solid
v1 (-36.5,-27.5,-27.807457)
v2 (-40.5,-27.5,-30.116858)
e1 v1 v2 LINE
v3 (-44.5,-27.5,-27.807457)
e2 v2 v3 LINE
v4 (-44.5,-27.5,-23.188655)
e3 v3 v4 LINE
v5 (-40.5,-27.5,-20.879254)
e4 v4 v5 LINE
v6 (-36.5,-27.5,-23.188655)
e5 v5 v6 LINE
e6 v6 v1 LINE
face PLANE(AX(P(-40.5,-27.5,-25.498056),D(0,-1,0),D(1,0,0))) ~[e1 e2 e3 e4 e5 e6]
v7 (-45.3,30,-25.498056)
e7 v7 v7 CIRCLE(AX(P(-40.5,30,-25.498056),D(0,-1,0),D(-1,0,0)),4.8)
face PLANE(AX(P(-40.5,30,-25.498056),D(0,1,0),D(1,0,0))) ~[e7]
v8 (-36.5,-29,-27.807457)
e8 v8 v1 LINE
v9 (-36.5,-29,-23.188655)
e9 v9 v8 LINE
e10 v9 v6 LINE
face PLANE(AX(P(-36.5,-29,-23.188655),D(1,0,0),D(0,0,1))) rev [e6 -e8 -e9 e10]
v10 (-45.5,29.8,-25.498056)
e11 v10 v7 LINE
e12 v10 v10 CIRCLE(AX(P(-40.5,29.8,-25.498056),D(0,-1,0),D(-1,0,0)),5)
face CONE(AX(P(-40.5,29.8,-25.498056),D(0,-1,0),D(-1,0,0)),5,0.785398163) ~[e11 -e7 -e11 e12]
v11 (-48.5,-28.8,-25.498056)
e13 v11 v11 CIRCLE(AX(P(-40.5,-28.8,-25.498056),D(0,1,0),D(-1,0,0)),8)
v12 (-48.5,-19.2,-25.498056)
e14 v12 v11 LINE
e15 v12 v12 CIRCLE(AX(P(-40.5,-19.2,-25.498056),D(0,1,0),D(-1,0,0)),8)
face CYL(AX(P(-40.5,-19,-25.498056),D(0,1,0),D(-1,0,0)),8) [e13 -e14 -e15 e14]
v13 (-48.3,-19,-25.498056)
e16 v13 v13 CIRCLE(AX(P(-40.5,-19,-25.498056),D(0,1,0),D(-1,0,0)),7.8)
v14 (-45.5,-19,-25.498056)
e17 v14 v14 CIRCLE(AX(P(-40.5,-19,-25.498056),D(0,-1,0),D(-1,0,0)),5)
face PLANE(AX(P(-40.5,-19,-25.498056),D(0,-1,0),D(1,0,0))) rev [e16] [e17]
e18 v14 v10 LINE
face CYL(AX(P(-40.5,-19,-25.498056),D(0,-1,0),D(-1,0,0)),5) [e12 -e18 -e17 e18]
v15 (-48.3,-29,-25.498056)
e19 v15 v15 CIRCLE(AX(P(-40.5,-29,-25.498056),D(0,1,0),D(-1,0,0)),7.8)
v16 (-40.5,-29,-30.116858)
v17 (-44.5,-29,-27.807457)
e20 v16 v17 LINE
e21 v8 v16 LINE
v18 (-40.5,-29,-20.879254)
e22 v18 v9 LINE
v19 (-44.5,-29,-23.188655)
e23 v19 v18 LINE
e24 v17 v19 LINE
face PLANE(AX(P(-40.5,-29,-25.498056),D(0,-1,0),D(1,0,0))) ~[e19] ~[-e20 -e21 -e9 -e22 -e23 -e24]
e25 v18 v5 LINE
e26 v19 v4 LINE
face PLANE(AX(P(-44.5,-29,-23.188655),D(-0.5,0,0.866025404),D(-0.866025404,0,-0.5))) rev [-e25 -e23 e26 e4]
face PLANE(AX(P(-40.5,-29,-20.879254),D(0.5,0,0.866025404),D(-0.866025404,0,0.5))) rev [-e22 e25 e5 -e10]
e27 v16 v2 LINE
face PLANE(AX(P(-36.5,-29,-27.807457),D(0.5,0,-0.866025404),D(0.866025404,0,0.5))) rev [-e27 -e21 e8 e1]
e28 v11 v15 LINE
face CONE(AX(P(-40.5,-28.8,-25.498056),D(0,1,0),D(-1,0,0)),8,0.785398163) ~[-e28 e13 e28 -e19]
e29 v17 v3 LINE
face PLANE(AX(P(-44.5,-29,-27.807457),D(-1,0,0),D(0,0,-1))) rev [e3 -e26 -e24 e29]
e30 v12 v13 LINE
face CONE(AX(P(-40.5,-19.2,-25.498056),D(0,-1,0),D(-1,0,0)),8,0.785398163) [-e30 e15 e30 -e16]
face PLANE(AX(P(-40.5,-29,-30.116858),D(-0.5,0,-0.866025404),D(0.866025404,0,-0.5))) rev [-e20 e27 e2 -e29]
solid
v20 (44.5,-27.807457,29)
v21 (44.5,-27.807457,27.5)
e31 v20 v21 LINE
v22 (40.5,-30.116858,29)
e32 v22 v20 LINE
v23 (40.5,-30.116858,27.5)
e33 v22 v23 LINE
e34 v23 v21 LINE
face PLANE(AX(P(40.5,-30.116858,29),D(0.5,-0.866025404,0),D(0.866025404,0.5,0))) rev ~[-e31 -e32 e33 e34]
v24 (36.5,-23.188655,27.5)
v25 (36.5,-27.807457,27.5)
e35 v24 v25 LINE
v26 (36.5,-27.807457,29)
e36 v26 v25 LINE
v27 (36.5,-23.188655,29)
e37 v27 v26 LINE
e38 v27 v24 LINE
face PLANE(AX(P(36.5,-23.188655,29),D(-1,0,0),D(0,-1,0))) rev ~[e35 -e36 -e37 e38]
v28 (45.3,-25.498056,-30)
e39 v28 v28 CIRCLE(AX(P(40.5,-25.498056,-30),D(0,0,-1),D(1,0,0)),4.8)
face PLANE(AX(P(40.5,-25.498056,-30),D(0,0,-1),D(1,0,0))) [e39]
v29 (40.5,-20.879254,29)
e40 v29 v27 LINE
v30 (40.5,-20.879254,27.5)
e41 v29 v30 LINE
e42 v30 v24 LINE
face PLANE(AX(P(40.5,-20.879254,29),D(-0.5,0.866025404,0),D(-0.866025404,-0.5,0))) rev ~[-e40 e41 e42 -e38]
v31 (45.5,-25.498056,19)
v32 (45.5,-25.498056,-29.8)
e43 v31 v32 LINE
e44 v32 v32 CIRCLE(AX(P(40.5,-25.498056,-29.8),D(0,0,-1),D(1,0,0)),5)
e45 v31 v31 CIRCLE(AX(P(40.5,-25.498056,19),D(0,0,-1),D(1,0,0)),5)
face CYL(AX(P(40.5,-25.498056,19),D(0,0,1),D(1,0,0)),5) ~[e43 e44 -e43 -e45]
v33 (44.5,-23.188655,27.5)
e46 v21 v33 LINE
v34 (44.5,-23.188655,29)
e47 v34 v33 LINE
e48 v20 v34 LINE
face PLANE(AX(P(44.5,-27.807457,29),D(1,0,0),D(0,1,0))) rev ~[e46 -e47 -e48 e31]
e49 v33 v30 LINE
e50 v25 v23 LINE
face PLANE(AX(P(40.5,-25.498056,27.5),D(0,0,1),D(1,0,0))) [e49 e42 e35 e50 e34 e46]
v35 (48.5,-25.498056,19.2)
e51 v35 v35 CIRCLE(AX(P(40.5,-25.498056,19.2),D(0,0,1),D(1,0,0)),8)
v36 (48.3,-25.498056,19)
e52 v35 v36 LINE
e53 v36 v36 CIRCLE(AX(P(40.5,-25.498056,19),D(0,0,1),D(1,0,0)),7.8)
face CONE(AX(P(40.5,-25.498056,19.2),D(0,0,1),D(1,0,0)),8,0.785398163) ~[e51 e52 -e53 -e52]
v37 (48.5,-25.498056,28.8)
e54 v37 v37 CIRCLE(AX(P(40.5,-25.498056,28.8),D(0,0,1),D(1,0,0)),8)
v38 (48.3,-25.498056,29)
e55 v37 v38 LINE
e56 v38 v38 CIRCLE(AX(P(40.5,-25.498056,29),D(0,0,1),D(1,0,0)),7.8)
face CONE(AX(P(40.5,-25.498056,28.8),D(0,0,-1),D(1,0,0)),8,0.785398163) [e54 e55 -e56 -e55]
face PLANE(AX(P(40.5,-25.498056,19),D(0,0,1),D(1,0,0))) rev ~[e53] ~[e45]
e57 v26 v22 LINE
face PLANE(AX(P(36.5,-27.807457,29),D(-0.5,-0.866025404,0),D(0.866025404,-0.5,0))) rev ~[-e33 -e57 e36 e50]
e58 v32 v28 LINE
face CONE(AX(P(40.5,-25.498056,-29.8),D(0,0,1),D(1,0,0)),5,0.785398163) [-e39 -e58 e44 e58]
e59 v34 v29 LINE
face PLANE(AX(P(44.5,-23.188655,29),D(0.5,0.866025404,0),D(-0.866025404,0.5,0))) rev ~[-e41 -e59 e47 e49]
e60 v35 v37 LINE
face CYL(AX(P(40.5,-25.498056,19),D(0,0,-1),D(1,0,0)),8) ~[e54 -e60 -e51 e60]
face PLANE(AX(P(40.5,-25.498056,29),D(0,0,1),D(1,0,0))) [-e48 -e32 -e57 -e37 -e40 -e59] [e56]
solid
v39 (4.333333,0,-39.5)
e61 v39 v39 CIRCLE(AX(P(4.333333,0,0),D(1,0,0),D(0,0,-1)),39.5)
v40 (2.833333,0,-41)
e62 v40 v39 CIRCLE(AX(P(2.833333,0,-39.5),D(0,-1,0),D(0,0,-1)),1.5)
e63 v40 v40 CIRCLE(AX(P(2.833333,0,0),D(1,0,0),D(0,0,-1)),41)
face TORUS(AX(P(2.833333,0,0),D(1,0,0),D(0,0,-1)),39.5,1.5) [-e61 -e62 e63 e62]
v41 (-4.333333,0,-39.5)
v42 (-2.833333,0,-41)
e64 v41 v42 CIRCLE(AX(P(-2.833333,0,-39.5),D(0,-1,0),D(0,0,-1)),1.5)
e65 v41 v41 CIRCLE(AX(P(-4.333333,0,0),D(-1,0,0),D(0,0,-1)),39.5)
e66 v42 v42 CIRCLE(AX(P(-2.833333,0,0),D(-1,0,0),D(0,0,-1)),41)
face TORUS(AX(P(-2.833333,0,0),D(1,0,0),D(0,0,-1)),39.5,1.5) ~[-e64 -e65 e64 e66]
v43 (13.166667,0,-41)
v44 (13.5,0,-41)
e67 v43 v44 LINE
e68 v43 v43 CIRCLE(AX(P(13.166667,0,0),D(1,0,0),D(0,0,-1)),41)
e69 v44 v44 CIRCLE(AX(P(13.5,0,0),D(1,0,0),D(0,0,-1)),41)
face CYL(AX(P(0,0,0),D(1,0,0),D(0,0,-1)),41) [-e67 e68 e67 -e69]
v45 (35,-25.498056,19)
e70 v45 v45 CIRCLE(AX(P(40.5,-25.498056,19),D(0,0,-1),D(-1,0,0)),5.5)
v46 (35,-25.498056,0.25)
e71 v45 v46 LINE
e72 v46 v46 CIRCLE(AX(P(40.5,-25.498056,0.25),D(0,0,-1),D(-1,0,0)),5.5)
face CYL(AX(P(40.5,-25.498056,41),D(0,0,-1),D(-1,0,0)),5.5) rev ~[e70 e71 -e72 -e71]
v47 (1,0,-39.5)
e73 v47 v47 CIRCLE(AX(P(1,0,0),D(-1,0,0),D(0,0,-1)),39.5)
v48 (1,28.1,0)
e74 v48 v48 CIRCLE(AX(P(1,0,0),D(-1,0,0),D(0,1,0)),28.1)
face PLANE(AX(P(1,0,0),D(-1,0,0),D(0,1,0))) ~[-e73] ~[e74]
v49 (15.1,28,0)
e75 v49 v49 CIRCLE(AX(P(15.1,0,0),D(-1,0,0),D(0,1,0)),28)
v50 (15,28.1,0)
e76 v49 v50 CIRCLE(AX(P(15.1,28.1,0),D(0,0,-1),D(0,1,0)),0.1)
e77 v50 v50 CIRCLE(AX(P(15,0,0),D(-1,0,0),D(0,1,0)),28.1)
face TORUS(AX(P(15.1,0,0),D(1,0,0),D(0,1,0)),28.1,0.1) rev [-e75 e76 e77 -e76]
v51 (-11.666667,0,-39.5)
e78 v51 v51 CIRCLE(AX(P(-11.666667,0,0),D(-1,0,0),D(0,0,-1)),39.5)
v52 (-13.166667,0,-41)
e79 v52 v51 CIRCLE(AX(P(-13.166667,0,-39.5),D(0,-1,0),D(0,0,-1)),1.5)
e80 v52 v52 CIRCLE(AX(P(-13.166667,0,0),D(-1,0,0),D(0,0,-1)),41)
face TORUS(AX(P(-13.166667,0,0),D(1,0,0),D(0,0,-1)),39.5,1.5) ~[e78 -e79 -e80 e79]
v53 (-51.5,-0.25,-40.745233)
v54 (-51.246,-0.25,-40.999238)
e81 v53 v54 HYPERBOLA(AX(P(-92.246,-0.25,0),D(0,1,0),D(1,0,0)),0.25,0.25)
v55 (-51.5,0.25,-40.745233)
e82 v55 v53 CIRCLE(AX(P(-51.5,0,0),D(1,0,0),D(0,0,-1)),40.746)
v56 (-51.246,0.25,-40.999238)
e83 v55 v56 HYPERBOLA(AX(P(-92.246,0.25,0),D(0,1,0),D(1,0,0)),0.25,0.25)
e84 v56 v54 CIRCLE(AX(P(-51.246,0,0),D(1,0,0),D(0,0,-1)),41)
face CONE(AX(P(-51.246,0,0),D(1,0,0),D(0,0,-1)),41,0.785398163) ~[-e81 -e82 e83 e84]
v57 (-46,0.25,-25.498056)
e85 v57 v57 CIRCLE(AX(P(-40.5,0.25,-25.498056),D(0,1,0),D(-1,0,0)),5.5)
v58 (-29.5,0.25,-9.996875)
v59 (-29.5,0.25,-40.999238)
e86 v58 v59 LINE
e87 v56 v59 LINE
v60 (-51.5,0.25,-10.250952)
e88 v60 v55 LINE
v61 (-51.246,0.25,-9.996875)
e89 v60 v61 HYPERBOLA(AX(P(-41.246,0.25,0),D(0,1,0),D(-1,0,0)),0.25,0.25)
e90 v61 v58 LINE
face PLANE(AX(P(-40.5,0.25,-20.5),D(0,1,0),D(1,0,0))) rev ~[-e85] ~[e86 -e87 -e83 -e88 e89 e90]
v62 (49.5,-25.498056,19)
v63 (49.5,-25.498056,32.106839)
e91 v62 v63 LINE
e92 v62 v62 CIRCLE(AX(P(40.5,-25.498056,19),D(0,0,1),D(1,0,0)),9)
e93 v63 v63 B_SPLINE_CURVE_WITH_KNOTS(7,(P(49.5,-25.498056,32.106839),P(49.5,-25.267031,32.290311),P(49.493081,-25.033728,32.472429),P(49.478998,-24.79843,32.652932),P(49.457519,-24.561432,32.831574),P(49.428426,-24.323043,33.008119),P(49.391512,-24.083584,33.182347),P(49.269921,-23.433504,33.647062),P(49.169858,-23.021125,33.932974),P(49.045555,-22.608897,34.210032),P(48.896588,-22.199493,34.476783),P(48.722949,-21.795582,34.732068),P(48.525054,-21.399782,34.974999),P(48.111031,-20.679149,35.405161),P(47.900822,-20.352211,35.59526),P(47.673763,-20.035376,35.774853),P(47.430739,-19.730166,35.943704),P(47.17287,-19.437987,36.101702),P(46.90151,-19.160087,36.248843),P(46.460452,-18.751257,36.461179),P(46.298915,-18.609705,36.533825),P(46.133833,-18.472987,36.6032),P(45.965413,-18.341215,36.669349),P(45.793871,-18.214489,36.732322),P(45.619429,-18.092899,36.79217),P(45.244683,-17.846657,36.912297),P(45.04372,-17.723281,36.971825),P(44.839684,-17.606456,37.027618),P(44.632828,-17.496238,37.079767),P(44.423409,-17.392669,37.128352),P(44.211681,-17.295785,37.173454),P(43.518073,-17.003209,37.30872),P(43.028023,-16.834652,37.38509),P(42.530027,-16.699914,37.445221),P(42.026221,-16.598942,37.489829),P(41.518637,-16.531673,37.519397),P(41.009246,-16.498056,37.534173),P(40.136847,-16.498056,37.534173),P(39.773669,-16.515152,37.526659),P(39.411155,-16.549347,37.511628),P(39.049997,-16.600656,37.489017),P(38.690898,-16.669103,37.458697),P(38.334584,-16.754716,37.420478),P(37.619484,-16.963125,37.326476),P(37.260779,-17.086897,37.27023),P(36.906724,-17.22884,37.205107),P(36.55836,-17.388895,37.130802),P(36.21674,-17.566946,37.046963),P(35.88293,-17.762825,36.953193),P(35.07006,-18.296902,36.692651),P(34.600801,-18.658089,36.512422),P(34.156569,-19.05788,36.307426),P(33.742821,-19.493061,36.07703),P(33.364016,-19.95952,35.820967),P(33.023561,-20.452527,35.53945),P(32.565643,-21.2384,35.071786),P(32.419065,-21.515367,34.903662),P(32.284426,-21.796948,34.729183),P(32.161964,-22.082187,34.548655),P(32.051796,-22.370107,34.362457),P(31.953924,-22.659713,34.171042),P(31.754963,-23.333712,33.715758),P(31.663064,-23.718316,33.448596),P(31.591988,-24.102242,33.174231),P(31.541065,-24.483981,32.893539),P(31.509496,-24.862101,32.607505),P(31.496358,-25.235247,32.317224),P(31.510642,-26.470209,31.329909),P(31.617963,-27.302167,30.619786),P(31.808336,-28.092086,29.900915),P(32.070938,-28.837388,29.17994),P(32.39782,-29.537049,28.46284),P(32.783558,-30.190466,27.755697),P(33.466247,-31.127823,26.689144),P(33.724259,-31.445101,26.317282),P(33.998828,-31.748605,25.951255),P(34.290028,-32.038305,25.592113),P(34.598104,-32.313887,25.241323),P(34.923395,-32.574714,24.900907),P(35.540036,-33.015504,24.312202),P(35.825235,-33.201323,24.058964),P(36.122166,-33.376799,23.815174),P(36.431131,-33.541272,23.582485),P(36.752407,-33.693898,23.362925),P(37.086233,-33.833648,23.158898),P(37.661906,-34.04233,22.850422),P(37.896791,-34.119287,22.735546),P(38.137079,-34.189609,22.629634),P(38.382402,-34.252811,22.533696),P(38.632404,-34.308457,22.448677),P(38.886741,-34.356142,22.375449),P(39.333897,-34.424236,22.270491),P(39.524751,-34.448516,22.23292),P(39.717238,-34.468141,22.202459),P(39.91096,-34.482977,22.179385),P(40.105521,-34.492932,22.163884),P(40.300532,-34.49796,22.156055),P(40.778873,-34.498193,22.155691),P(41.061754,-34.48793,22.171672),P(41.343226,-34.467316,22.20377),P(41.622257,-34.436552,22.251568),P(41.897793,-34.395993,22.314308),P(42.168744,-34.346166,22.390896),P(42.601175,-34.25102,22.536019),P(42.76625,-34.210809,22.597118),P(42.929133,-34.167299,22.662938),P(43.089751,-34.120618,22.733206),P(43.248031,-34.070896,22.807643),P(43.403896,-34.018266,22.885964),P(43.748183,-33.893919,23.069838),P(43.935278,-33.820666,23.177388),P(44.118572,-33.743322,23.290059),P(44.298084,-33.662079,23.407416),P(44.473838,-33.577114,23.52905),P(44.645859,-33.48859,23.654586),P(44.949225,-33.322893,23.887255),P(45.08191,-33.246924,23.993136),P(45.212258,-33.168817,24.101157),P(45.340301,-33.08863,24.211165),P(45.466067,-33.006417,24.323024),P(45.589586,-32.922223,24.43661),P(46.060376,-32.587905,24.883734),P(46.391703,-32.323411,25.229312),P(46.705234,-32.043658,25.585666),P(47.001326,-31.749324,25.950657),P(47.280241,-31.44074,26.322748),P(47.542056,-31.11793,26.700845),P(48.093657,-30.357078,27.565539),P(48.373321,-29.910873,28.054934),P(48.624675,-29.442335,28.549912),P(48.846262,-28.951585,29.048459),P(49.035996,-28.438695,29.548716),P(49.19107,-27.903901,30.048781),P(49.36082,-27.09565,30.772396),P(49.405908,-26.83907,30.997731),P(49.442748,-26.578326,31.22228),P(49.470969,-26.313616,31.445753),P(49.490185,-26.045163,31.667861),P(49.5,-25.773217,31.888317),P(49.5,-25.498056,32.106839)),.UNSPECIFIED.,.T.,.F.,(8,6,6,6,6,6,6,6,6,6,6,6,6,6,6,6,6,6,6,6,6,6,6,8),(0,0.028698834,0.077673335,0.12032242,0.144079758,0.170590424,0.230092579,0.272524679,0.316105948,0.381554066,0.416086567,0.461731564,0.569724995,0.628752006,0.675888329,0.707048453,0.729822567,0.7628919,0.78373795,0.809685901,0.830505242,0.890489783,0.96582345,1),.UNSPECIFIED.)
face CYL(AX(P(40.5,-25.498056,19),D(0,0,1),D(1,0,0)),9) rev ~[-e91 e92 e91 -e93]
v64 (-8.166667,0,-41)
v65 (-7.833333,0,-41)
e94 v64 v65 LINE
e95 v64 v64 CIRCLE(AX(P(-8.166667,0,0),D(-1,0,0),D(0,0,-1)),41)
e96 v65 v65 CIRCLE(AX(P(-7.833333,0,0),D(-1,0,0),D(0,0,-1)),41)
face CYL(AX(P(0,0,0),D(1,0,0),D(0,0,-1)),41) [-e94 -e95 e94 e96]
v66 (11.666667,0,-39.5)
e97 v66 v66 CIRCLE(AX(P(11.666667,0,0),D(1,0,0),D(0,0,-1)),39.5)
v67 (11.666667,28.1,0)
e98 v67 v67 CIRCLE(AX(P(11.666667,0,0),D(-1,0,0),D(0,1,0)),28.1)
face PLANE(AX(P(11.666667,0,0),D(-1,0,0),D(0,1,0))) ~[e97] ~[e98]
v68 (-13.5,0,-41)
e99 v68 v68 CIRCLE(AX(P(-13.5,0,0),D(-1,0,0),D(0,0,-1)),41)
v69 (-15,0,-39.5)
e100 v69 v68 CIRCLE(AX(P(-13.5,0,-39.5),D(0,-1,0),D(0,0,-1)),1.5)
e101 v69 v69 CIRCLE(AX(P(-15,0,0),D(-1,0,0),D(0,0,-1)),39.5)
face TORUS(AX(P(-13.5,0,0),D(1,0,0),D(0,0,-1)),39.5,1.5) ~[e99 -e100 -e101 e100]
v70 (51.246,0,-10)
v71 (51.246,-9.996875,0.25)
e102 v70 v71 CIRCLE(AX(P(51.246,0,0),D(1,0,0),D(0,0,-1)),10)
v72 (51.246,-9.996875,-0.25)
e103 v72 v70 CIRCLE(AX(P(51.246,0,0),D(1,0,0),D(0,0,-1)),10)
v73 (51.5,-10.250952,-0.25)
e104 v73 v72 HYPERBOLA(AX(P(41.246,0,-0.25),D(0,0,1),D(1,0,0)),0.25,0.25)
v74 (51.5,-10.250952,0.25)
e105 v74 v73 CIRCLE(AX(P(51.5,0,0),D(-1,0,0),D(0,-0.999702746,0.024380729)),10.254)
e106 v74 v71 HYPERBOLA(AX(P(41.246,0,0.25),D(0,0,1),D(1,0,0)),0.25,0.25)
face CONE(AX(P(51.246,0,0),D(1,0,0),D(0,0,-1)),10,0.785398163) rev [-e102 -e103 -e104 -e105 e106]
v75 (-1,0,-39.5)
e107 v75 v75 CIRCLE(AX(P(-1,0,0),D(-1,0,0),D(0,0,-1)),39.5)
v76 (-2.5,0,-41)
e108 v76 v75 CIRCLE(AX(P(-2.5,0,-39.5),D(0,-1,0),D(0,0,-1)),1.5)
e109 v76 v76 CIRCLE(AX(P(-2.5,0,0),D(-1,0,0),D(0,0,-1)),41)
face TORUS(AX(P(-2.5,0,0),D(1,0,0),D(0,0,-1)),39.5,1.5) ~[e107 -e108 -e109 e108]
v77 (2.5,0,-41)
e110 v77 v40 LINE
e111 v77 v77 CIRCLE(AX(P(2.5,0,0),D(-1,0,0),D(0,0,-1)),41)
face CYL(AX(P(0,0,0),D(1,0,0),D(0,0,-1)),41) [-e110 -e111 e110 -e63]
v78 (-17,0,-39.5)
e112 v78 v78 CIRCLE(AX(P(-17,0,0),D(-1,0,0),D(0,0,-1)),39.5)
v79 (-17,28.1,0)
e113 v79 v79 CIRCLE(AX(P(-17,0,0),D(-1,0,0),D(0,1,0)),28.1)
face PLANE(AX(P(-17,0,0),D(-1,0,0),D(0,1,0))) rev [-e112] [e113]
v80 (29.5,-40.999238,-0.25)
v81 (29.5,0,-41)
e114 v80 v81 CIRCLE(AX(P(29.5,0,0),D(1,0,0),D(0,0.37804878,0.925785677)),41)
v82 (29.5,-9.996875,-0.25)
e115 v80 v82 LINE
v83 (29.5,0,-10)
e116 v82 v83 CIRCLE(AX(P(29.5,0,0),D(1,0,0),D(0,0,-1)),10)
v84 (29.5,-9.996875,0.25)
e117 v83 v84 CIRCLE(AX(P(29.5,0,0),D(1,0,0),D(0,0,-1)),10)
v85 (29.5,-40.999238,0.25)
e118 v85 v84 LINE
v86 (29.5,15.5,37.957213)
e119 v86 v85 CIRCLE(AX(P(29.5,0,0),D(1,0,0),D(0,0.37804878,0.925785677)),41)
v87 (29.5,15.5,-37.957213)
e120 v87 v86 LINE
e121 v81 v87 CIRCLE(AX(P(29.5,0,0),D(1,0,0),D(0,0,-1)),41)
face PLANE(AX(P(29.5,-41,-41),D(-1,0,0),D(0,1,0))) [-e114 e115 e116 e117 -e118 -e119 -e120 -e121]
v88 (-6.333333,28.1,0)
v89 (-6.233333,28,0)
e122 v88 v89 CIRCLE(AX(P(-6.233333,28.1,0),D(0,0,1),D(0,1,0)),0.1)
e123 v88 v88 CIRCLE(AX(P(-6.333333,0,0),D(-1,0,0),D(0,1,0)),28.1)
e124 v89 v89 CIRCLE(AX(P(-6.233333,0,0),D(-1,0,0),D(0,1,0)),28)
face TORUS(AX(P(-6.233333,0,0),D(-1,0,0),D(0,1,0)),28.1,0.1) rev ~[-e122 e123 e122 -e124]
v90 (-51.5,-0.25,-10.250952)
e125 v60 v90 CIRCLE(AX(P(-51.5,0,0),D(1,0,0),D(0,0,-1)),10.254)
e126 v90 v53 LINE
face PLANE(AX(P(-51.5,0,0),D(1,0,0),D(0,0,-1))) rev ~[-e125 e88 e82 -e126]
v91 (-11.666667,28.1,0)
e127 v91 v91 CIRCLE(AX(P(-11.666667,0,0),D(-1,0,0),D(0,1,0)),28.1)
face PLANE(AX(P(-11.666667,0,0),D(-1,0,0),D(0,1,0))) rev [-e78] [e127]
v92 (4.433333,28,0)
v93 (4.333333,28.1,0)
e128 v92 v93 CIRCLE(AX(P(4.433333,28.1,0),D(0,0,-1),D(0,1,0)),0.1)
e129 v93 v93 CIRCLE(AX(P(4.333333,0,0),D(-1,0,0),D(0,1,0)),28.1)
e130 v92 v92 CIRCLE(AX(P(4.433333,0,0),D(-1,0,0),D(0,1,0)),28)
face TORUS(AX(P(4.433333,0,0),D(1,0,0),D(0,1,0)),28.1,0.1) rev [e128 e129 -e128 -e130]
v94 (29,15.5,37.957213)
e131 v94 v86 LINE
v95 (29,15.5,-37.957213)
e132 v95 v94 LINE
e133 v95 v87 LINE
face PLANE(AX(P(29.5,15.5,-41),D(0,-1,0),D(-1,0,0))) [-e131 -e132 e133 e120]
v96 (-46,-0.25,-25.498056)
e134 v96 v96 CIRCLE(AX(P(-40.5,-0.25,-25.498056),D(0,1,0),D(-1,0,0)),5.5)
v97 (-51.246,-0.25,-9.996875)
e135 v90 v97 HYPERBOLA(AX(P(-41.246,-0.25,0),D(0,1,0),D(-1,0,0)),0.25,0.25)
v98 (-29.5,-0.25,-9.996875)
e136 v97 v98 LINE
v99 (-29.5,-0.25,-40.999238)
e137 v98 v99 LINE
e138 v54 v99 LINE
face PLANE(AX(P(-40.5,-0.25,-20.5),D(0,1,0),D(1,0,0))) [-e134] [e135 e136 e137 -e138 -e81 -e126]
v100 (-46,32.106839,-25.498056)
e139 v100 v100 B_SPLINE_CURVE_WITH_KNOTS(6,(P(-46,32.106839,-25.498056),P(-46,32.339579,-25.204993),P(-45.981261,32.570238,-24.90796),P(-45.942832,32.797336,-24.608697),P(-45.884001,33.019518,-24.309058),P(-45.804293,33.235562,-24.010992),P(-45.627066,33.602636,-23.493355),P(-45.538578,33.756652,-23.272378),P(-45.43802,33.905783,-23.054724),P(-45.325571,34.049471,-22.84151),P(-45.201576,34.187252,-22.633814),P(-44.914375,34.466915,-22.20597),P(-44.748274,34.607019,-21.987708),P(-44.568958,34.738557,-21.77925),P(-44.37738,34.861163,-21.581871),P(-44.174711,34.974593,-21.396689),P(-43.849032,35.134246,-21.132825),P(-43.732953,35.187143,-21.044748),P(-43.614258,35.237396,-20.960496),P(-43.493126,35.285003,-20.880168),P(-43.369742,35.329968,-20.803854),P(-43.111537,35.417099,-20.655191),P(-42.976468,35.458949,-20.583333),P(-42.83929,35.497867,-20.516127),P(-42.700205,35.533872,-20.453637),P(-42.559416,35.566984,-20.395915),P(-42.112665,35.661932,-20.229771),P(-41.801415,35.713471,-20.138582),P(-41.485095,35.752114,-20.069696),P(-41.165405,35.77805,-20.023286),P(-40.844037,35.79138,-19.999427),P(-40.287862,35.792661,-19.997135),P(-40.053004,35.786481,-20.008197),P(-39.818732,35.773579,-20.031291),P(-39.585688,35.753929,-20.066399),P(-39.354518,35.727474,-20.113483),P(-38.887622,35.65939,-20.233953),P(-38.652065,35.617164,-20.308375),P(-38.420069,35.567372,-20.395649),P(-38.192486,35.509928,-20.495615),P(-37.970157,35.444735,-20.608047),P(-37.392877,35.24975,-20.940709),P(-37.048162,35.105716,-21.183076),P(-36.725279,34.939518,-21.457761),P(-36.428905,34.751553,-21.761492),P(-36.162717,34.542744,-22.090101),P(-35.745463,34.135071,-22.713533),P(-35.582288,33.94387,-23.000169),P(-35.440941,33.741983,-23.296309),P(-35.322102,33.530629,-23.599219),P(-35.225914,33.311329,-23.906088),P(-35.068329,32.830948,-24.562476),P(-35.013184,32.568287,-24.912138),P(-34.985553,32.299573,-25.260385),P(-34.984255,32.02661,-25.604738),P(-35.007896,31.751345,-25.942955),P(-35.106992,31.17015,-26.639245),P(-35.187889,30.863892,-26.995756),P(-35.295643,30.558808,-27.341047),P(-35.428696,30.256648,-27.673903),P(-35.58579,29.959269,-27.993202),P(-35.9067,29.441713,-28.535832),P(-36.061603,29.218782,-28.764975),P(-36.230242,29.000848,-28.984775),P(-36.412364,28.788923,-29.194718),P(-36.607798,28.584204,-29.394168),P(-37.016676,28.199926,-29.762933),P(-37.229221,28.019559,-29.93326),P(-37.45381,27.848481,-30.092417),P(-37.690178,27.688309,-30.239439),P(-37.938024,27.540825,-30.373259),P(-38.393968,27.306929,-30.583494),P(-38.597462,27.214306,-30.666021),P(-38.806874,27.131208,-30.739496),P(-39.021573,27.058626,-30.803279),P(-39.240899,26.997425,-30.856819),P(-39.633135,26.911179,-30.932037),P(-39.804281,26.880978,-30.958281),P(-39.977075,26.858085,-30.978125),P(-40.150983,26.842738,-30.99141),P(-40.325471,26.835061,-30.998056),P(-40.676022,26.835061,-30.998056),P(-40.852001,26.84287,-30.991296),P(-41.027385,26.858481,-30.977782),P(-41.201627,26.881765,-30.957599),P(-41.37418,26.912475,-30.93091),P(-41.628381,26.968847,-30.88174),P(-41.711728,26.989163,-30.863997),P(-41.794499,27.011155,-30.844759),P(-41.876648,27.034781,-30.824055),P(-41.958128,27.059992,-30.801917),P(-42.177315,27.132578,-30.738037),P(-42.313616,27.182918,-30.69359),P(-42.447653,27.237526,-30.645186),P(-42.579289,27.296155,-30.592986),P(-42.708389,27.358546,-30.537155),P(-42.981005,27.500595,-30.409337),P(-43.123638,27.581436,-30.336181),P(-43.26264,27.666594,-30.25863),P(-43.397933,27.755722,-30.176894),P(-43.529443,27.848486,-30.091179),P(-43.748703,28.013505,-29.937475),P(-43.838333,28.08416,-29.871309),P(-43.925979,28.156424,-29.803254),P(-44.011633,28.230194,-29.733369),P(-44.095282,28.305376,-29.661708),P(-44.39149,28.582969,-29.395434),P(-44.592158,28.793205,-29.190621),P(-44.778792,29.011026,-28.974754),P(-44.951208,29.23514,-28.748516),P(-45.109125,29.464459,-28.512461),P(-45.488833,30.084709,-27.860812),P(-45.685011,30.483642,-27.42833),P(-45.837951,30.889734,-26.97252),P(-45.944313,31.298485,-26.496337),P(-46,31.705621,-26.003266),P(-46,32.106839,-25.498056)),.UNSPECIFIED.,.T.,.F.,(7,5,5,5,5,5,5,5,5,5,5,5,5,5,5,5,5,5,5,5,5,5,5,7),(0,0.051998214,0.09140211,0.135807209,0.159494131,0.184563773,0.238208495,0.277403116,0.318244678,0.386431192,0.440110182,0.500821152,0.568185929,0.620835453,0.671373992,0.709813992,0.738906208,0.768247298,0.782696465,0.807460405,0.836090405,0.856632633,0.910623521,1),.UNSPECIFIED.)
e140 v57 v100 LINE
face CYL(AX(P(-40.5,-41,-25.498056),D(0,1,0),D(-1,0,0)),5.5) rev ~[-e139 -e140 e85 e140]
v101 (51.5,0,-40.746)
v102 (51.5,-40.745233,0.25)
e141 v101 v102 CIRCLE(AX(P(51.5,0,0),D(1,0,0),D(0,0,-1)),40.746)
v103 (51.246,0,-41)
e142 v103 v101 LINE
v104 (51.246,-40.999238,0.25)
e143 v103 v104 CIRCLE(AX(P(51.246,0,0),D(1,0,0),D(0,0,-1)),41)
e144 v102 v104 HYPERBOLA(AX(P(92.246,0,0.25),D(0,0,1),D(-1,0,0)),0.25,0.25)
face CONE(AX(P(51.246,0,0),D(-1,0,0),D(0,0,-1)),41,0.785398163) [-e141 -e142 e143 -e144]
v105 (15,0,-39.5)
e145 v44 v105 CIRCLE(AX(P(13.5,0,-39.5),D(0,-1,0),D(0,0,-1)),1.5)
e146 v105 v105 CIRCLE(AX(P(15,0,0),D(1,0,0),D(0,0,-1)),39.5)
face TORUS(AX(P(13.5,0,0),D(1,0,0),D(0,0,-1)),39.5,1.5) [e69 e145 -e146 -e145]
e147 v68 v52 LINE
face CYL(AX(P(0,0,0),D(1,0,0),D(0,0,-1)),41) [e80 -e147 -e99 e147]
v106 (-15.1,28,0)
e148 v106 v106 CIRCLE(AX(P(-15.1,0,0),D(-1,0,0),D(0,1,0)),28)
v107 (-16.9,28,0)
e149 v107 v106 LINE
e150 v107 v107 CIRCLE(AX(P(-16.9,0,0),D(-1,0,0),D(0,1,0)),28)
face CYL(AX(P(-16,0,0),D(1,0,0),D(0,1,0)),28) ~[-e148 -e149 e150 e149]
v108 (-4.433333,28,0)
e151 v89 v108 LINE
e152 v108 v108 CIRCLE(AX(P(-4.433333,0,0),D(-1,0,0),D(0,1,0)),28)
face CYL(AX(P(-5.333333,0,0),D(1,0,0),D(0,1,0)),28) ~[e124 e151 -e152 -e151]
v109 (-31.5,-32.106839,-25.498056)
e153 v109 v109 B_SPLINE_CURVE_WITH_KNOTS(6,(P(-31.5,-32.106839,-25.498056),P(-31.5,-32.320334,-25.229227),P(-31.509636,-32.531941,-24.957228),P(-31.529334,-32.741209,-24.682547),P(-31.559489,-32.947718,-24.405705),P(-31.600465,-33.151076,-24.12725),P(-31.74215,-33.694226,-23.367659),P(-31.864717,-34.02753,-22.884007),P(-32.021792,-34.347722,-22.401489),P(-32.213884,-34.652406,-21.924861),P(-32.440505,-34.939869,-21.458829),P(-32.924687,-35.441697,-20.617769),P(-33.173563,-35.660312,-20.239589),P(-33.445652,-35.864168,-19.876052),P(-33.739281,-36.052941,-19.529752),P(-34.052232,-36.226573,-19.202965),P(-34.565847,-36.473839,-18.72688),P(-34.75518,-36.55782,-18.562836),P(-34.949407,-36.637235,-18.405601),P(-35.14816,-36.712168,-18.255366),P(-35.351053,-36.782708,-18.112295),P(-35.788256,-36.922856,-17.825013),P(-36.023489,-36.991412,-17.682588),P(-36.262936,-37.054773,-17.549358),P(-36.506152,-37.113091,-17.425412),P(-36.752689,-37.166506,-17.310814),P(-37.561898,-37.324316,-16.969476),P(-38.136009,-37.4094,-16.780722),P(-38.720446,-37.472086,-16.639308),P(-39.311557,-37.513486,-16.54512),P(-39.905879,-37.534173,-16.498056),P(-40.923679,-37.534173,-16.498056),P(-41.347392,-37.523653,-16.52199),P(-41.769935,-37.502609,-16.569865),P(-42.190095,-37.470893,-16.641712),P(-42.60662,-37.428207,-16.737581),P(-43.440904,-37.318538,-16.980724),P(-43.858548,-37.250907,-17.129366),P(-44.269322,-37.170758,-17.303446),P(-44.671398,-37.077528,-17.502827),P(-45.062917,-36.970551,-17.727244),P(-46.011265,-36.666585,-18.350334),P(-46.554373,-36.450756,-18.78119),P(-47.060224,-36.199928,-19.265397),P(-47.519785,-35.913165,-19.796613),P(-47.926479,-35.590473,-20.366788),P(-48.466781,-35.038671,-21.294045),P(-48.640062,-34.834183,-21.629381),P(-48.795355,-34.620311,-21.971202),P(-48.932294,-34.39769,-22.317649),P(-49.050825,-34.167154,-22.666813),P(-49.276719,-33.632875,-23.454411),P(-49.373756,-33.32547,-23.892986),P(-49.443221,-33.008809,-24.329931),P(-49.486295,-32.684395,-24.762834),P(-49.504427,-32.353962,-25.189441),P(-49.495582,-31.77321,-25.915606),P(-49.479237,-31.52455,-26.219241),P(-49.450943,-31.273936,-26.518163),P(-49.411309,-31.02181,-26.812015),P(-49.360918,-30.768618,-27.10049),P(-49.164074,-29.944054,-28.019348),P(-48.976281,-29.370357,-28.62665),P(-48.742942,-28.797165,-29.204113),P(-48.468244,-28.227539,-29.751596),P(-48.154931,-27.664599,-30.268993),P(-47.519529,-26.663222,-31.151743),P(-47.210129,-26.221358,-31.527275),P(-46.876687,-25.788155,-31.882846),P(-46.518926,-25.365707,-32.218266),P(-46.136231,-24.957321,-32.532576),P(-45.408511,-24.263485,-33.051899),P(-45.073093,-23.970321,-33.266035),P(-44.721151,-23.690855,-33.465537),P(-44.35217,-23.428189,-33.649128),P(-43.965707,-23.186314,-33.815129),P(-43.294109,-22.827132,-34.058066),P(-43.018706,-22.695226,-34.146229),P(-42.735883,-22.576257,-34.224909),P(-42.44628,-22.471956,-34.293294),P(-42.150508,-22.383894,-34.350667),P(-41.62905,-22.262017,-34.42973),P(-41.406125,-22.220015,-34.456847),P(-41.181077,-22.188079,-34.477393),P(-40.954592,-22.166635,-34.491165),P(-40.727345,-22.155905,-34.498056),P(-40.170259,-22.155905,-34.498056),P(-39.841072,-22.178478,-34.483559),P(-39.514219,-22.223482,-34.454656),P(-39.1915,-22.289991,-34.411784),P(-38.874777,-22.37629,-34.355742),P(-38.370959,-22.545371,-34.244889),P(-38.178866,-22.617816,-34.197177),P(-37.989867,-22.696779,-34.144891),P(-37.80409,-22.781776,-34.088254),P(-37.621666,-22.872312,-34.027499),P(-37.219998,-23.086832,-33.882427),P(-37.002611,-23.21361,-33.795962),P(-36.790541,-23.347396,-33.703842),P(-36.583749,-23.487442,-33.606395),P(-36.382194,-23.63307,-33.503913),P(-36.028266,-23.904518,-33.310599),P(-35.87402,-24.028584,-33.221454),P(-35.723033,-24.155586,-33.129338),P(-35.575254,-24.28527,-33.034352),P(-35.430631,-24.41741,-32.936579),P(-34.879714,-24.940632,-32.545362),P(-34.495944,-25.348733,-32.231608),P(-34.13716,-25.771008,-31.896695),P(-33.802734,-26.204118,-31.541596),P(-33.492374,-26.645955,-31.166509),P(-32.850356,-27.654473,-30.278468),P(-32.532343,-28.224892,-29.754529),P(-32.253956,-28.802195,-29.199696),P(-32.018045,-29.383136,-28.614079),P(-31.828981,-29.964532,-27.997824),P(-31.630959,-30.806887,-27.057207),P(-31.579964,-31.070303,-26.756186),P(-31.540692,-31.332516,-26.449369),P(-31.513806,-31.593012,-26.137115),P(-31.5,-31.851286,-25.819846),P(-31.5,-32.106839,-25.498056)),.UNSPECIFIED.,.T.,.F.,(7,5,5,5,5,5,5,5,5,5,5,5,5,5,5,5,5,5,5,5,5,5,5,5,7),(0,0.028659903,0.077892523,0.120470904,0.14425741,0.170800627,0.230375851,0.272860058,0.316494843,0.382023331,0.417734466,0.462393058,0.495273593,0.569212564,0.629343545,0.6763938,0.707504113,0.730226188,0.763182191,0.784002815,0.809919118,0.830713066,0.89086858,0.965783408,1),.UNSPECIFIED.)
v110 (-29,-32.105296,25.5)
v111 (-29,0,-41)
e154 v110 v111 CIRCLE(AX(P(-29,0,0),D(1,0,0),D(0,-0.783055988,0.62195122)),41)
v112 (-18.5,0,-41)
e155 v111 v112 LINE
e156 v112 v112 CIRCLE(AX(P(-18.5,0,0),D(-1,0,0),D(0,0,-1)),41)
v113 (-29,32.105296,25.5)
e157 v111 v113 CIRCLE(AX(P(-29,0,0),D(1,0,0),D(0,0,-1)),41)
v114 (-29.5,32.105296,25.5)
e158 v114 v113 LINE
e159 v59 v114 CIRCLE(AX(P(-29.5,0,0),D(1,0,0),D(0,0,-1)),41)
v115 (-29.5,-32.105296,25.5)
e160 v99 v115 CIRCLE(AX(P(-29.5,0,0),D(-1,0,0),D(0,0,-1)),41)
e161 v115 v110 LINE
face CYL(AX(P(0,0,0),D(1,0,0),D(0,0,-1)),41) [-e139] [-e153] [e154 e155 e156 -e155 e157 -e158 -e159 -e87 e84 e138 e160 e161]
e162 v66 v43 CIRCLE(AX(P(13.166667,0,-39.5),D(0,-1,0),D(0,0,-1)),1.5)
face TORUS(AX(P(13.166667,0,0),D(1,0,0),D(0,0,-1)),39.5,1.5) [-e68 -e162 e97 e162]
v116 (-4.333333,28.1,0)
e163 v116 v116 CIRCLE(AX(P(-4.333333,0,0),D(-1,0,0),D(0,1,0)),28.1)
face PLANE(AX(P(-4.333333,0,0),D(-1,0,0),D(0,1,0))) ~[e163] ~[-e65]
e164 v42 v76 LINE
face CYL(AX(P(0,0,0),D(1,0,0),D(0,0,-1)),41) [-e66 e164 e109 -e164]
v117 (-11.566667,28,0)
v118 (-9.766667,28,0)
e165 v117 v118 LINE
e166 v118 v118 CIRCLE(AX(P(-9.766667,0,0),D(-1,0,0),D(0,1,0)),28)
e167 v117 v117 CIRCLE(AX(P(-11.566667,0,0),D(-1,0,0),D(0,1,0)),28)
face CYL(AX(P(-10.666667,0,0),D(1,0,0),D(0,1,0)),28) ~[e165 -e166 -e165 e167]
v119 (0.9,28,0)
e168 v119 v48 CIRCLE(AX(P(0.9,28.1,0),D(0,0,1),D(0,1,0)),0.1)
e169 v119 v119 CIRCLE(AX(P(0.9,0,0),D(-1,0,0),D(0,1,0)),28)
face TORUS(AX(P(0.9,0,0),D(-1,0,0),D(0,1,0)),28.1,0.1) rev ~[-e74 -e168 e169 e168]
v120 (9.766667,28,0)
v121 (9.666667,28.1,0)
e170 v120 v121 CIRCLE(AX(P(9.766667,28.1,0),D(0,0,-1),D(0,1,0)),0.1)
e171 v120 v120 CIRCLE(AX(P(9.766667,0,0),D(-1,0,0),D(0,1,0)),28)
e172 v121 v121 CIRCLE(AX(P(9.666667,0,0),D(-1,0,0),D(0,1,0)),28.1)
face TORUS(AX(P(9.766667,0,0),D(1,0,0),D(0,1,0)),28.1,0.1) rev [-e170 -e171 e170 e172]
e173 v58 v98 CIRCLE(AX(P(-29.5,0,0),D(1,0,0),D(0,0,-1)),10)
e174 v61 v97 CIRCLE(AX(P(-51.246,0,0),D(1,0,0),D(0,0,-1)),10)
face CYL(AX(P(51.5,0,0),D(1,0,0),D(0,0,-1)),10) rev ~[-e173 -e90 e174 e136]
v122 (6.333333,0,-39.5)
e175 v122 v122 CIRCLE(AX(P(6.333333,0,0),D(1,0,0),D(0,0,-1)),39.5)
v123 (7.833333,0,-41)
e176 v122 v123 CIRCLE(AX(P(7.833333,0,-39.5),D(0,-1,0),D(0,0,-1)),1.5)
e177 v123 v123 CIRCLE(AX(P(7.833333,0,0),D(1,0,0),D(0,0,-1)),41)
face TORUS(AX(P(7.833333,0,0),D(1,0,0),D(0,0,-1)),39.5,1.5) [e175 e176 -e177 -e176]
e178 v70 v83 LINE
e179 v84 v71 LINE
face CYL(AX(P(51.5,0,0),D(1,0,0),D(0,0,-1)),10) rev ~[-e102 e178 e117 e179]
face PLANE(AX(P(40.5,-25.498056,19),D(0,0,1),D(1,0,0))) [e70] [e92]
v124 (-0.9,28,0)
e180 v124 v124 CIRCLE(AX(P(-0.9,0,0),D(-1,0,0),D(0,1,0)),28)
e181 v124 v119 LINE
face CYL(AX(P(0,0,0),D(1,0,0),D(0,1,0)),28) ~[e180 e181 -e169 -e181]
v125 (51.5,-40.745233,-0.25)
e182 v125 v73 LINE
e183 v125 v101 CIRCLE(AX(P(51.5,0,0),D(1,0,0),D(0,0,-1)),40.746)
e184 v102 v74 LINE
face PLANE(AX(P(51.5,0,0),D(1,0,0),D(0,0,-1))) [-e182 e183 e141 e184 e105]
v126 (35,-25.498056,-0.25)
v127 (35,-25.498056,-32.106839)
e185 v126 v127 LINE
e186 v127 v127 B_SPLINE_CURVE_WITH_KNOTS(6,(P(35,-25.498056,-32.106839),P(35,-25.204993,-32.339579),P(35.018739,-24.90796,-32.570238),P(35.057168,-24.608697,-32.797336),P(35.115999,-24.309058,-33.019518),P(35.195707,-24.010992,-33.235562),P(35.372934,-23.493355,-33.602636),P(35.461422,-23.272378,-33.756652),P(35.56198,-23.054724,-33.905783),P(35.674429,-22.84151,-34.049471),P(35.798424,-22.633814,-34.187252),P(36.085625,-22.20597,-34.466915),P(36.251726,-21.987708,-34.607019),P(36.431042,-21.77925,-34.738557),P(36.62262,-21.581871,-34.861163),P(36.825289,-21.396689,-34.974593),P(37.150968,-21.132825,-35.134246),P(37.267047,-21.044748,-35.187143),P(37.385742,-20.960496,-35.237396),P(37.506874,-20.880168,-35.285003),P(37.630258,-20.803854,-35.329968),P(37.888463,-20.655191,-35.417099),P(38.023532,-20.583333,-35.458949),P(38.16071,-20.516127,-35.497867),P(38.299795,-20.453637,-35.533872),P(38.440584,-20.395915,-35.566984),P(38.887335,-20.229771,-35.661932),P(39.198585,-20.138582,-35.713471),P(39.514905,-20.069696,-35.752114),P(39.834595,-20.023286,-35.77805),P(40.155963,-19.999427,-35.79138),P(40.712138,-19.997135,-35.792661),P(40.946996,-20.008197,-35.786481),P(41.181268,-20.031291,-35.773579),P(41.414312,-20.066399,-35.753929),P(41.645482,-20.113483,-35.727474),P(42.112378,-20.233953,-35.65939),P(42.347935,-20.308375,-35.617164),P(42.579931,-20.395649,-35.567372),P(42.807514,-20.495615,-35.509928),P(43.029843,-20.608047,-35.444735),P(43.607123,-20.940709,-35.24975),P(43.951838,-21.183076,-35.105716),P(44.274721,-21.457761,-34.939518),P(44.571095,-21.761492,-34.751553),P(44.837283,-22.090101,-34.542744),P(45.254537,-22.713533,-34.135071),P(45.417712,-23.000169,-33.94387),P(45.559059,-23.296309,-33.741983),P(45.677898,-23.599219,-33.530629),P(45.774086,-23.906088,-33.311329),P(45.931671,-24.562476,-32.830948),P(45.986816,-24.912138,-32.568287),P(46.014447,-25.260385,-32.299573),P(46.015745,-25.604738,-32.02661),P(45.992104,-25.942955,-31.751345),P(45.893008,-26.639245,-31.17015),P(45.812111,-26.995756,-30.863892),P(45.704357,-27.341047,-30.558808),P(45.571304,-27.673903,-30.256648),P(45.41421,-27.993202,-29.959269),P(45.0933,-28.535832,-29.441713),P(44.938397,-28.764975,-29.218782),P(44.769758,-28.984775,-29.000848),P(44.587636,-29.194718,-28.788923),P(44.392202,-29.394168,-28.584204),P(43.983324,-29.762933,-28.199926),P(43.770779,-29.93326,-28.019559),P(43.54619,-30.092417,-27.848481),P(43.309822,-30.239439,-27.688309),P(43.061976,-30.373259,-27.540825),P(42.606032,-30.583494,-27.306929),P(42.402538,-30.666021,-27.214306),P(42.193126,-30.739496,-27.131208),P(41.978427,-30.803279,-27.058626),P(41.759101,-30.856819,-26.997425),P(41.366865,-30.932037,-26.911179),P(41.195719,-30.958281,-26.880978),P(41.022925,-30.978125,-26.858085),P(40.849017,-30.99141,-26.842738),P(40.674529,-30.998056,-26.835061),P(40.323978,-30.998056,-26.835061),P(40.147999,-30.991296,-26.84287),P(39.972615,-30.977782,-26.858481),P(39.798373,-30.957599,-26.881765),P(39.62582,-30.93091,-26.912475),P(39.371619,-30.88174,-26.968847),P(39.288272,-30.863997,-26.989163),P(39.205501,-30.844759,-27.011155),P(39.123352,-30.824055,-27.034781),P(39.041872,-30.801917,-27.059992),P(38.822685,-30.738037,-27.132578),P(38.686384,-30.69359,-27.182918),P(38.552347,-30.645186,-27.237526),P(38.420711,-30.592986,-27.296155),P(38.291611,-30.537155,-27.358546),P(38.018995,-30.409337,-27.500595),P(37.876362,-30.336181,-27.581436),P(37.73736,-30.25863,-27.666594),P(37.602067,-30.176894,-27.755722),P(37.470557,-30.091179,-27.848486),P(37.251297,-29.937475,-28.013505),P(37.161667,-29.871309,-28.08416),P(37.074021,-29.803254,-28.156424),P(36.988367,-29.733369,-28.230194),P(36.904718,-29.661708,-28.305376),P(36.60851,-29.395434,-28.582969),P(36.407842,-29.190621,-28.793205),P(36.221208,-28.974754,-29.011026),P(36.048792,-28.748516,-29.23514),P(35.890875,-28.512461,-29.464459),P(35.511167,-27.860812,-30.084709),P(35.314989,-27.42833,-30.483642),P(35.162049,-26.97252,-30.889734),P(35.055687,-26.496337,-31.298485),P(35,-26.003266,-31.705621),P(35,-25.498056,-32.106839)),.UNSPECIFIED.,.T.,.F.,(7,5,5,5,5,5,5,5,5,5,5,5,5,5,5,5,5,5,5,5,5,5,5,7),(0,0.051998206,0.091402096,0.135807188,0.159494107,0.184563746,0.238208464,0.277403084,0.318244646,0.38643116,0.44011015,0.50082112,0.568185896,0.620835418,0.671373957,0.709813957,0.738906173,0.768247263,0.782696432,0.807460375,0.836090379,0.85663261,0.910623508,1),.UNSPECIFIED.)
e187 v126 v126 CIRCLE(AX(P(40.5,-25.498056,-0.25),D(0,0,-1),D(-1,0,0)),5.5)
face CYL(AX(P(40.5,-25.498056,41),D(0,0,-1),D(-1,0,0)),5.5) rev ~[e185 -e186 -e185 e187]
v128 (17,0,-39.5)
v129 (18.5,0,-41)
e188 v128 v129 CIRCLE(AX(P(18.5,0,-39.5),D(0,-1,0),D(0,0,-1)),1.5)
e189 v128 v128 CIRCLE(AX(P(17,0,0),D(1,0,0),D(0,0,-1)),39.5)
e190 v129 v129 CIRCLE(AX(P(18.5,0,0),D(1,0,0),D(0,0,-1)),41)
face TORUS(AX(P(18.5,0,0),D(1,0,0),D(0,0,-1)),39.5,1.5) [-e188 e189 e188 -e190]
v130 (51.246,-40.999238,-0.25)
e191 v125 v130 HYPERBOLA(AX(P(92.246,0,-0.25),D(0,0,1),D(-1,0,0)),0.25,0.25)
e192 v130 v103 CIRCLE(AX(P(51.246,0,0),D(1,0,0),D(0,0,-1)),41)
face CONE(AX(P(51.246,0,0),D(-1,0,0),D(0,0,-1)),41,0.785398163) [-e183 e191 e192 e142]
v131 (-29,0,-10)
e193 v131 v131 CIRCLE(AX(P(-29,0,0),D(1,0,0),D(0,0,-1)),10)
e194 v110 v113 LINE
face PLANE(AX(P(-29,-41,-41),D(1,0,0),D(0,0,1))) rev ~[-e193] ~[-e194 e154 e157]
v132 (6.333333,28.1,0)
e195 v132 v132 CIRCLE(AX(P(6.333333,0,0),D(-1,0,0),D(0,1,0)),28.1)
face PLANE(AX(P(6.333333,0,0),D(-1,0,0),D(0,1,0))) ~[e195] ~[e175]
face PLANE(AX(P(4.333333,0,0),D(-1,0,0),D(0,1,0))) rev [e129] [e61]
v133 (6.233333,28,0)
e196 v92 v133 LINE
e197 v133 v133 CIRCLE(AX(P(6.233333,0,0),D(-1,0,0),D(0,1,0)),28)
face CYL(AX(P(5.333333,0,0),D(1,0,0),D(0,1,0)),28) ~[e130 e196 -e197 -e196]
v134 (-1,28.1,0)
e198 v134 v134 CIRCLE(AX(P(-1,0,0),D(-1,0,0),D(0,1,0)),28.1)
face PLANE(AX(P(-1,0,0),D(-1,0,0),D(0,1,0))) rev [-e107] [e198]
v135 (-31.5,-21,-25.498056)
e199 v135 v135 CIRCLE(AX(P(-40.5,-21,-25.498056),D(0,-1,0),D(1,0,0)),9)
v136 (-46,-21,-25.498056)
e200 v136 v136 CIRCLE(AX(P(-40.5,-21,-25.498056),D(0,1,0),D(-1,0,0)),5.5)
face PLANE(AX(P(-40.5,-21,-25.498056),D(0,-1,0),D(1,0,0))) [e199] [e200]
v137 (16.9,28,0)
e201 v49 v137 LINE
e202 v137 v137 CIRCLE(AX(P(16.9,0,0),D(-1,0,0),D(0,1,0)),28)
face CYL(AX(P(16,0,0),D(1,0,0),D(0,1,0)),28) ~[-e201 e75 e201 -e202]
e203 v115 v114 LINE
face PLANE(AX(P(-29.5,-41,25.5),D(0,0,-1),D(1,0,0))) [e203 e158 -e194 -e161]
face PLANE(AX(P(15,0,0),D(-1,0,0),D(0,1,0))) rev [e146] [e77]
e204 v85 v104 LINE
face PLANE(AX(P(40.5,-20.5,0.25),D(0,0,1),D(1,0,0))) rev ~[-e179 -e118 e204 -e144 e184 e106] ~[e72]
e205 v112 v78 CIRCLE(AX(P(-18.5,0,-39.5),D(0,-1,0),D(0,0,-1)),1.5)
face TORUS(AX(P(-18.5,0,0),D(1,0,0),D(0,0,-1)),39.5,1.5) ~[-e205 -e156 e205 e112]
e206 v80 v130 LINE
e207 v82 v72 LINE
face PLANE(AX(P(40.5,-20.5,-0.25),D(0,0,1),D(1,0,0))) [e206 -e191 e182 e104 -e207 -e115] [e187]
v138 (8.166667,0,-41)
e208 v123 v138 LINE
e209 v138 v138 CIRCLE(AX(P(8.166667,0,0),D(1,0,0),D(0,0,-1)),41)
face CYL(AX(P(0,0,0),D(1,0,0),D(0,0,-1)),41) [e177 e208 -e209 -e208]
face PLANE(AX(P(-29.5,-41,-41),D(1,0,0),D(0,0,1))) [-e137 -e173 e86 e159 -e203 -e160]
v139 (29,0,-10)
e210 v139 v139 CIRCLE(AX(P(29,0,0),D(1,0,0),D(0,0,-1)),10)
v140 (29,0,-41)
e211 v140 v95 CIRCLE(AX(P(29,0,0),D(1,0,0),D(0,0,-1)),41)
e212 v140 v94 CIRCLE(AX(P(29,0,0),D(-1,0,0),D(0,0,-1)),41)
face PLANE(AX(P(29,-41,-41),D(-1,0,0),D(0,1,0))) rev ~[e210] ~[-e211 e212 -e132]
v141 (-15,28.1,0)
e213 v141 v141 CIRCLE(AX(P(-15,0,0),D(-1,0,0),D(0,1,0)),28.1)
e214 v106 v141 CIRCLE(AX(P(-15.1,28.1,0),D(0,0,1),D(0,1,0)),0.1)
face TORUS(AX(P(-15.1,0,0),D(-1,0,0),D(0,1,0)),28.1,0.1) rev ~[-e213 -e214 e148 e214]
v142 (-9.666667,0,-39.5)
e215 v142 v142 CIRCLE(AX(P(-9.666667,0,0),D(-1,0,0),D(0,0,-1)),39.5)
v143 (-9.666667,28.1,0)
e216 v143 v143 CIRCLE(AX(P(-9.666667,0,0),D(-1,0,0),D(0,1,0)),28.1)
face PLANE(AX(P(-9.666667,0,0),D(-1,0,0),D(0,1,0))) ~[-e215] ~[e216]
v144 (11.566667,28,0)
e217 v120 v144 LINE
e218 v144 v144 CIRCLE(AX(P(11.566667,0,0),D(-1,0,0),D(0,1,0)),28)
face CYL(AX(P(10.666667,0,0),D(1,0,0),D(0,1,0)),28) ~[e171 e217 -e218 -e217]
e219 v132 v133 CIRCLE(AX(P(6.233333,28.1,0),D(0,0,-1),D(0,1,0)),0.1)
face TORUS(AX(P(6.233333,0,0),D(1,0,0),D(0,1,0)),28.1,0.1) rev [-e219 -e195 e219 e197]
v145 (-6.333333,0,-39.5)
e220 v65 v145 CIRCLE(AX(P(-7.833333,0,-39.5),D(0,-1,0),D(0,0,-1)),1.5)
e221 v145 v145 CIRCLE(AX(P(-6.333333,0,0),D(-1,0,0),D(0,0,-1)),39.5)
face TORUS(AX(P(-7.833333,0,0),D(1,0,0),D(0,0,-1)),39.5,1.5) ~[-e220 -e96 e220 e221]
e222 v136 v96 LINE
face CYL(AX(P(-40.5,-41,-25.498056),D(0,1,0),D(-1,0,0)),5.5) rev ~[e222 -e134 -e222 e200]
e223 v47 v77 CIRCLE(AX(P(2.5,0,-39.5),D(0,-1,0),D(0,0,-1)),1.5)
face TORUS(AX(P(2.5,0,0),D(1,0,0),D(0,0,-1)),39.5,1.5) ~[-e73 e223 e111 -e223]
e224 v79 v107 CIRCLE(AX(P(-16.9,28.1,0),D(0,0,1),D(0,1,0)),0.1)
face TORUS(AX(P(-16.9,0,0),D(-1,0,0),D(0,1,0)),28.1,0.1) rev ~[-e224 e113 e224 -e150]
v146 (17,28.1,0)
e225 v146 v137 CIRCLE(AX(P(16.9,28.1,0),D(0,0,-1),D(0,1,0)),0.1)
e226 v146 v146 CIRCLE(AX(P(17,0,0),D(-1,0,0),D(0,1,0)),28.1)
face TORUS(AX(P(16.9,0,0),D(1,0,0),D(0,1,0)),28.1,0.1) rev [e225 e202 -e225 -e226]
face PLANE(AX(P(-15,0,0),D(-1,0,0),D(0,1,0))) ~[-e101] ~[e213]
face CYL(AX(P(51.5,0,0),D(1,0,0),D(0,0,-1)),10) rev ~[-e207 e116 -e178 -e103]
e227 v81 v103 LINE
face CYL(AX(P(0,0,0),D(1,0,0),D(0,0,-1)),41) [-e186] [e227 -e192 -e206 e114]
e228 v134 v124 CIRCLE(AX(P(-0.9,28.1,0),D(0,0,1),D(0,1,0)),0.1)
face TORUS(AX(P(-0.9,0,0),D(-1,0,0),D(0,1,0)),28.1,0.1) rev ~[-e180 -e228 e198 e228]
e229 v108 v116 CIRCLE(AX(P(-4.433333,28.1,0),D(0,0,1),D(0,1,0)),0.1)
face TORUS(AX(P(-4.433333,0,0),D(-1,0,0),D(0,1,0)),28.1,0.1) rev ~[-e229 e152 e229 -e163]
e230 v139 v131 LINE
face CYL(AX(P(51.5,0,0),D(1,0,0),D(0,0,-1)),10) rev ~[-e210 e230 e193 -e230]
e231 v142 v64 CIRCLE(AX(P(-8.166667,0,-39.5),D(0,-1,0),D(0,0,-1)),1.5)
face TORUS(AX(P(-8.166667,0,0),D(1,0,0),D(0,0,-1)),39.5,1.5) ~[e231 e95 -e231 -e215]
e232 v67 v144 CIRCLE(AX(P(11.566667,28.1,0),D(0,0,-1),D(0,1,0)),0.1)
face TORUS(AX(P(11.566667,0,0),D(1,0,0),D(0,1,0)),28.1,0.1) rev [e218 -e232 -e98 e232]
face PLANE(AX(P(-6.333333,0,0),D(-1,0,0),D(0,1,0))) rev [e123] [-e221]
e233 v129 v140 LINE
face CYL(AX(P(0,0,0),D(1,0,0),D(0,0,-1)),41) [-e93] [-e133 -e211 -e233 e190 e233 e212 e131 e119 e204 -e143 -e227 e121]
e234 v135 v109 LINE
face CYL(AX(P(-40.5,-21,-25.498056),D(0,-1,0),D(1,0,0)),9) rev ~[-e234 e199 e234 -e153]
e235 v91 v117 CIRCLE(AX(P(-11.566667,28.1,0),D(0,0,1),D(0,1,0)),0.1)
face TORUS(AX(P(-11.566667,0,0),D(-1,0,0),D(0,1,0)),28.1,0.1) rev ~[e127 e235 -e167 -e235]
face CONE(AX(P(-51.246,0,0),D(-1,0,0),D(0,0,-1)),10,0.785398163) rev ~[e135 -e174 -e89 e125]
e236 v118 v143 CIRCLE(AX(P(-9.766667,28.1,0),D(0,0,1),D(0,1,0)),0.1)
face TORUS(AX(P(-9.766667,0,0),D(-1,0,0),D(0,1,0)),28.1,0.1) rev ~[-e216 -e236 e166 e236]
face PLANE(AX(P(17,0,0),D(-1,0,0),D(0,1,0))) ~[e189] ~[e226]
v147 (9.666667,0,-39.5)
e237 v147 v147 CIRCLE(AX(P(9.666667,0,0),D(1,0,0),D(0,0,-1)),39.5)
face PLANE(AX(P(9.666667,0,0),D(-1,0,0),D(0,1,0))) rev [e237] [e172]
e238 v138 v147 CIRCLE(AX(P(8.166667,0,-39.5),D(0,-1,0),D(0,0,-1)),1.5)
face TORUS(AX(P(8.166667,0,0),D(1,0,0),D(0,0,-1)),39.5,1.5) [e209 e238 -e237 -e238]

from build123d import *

# Parameters (mm, degrees)
SKETCH1_R                       = 41
BOSS_EXTRUDE1_DEPTH             = 51.5
SKETCH2_R                       = 10
CUT_EXTRUDE1_DEPTH              = 119.198984767
CHAMFER1_SIZE                   = 0.254
SKETCH4_W                       = 0.5
SKETCH4_H                       = 66.5
CUT_EXTRUDE2_DEPTH              = 106.153459287
SKETCH7_W                       = 0.5
SKETCH7_H                       = 56.5
CUT_EXTRUDE3_DEPTH              = 106.153459287
SKETCH8_W                       = 22
SKETCH8_H                       = 41
CUT_EXTRUDE5_DEPTH              = 0.25
SKETCH13_W                      = 22
SKETCH13_H                      = 41
CUT_EXTRUDE6_DEPTH              = 0.25
CBORE_FOR_M10_SHCS2_D           = 11
CBORE_FOR_M10_SHCS2_CBORE_D     = 18
CBORE_FOR_M10_SHCS2_CBORE_DEPTH = 20
CBORE_FOR_M10_SHCS1_D           = 11
CBORE_FOR_M10_SHCS1_CBORE_D     = 18
CBORE_FOR_M10_SHCS1_CBORE_DEPTH = 22
SKETCH16_R                      = 8
BOSS_EXTRUDE2_DEPTH             = 10
SKETCH17_R                      = 5
BOSS_EXTRUDE3_DEPTH             = 49
CHAMFER2_SIZE                   = 0.2
CUT_EXTRUDE7_DEPTH              = 1.5
CIRPATTERN1_COUNT               = 2
CIRPATTERN1_ANGLE               = 90
SKETCH19_W                      = 2
SKETCH19_H                      = 13
FILLET1_R                       = 1.5
FILLET2_R                       = 0.1


with BuildPart() as part:
    # Sketch1 → Boss-Extrude1 (new, symmetric)
    with BuildSketch(Plane(origin=(0, 0, 0), x_dir=(0, 0, -1), z_dir=(1, 0, 0))):
        Circle(SKETCH1_R)
    extrude(amount=BOSS_EXTRUDE1_DEPTH, both=True)

    # Sketch2 → Cut-Extrude1 (cut, through all)
    with BuildSketch(Plane(origin=(51.5, 0, 0), x_dir=(0, 0, -1), z_dir=(1, 0, 0))):
        Circle(SKETCH2_R)
    extrude(amount=-CUT_EXTRUDE1_DEPTH, mode=Mode.SUBTRACT)

    # Chamfer1
    chamfer1_edges = [part.edges().sort_by_distance(p)[0] for p in [
        (-51.5, 0, 41),
        (51.5, 0, 41),
        (-51.5, 0, 10),
        (51.5, 0, 10),
    ]]
    chamfer(chamfer1_edges, length=CHAMFER1_SIZE)

    # Sketch4 → Cut-Extrude2 (cut, through all)
    with BuildSketch(Plane.XZ.offset(41)):
        with Locations((-29.25, -7.75)):
            Rectangle(SKETCH4_W, SKETCH4_H)
    extrude(amount=-CUT_EXTRUDE2_DEPTH, mode=Mode.SUBTRACT)

    # Sketch7 → Cut-Extrude3 (cut, through all)
    with BuildSketch(Plane(origin=(0, 0, -41), x_dir=(-1, 0, 0), z_dir=(0, 0, -1))):
        with Locations((-29.25, -12.75)):
            Rectangle(SKETCH7_W, SKETCH7_H)
    extrude(amount=-CUT_EXTRUDE3_DEPTH, mode=Mode.SUBTRACT)

    # Sketch8 → Cut-Extrude5 (cut, symmetric)
    with BuildSketch(Plane(origin=(0, 0, 0), x_dir=(1, 0, 0), z_dir=(0, 1, 0))):
        with Locations((-40.5, 20.5)):
            Rectangle(SKETCH8_W, SKETCH8_H)
    extrude(amount=CUT_EXTRUDE5_DEPTH, both=True, mode=Mode.SUBTRACT)

    # Sketch13 → Cut-Extrude6 (cut, symmetric)
    with BuildSketch(Plane.XY):
        with Locations((40.5, -20.5)):
            Rectangle(SKETCH13_W, SKETCH13_H)
    extrude(amount=CUT_EXTRUDE6_DEPTH, both=True, mode=Mode.SUBTRACT)

    # CBORE for M10 SHCS2 (through all)
    with Locations(Plane.XZ.offset(41)):
        with Locations((-40.5, -25.498056155)):
            CounterBoreHole(CBORE_FOR_M10_SHCS2_D / 2, CBORE_FOR_M10_SHCS2_CBORE_D / 2, CBORE_FOR_M10_SHCS2_CBORE_DEPTH)

    # CBORE for M10 SHCS1 (through all)
    with Locations(Plane.XY.offset(41)):
        with Locations((40.5, -25.498056155)):
            CounterBoreHole(CBORE_FOR_M10_SHCS1_D / 2, CBORE_FOR_M10_SHCS1_CBORE_D / 2, CBORE_FOR_M10_SHCS1_CBORE_DEPTH)

    # Sketch19 → Cut-Revolve1 (revolve, cut)
    with BuildSketch(Plane.XY):
        with Locations((0, 34.5)):
            Rectangle(SKETCH19_W, SKETCH19_H)
        with Locations((5.333333333, 34.5)):
            Rectangle(SKETCH19_W, SKETCH19_H)
        with Locations((10.666666667, 34.5)):
            Rectangle(SKETCH19_W, SKETCH19_H)
        with Locations((16, 34.5)):
            Rectangle(SKETCH19_W, SKETCH19_H)
        with Locations((-16, 34.5)):
            Rectangle(SKETCH19_W, SKETCH19_H)
        with Locations((-10.666666667, 34.5)):
            Rectangle(SKETCH19_W, SKETCH19_H)
        with Locations((-5.333333333, 34.5)):
            Rectangle(SKETCH19_W, SKETCH19_H)
    revolve(axis=Axis((0, 0, 0), (-1, 0, 0)), mode=Mode.SUBTRACT)

    # Fillet1
    fillet1_edges = [part.edges().sort_by_distance(p)[0] for p in [
        (1, 0, 41),
        (-1, 0, 41),
        (-17, 0, 41),
        (-15, 0, 41),
        (6.333333333, 0, 41),
        (4.333333333, 0, 41),
        (11.666666667, 0, 41),
        (9.666666667, 0, 41),
        (17, 0, 41),
        (15, 0, 41),
        (-11.666666667, 0, 41),
        (-9.666666667, 0, 41),
        (-6.333333333, 0, 41),
        (-4.333333333, 0, 41),
    ]]
    fillet(fillet1_edges, radius=FILLET1_R)

    # Fillet2
    fillet2_edges = [part.edges().sort_by_distance(p)[0] for p in [
        (-1, -28, 0),
        (1, -28, 0),
        (-17, -28, 0),
        (-15, -28, 0),
        (4.333333333, -28, 0),
        (6.333333333, -28, 0),
        (9.666666667, -28, 0),
        (11.666666667, -28, 0),
        (15, -28, 0),
        (17, -28, 0),
        (-11.666666667, -28, 0),
        (-9.666666667, -28, 0),
        (-6.333333333, -28, 0),
        (-4.333333333, -28, 0),
    ]]
    fillet(fillet2_edges, radius=FILLET2_R)


with BuildPart() as body_2:
    # Sketch16 → Boss-Extrude2 (new body)
    with BuildSketch(Plane.XY.offset(19)):
        with Locations((40.5, -25.498056155)):
            Circle(SKETCH16_R)
    extrude(amount=BOSS_EXTRUDE2_DEPTH)

    # Sketch17 → Boss-Extrude3 (add)
    with BuildSketch(Plane(origin=(0, 0, 19), x_dir=(-1, 0, 0), z_dir=(0, 0, -1))):
        with Locations(Location((-40.5, -25.498056155, 0), (0, 0, 180))):
            Circle(SKETCH17_R)
    extrude(amount=BOSS_EXTRUDE3_DEPTH)

    # Chamfer2
    chamfer2_edges = [body_2.edges().sort_by_distance(p)[0] for p in [
        (32.5, -25.498056155, 19),
        (32.5, -25.498056155, 29),
        (35.5, -25.498056155, -30),
    ]]
    chamfer(chamfer2_edges, length=CHAMFER2_SIZE)

    # Sketch18 → Cut-Extrude7 (cut)
    with BuildSketch(Plane.XY.offset(29)):
        Polygon((40.5, -30.116858308), (44.5, -27.807457231), (44.5, -23.188655078), (40.5, -20.879254001), (36.5, -23.188655078), (36.5, -27.807457231), align=None)
    extrude(amount=-CUT_EXTRUDE7_DEPTH, mode=Mode.SUBTRACT)


with BuildPart() as body_3:
    # Mirror1: mirrored copy
    add(body_2.part.mirror(Plane(origin=(0, 0, 0), x_dir=(0, 0, 1), z_dir=(1, 0, 0))))


with BuildPart() as cirpattern1_1:
    # CirPattern1: pattern copy
    add(body_3.part.rotate(Axis((0, 0, 0), (1, 0, 0)), 1 * CIRPATTERN1_ANGLE / (CIRPATTERN1_COUNT - 1)))


solid = Compound([part.part, body_2.part, cirpattern1_1.part])
